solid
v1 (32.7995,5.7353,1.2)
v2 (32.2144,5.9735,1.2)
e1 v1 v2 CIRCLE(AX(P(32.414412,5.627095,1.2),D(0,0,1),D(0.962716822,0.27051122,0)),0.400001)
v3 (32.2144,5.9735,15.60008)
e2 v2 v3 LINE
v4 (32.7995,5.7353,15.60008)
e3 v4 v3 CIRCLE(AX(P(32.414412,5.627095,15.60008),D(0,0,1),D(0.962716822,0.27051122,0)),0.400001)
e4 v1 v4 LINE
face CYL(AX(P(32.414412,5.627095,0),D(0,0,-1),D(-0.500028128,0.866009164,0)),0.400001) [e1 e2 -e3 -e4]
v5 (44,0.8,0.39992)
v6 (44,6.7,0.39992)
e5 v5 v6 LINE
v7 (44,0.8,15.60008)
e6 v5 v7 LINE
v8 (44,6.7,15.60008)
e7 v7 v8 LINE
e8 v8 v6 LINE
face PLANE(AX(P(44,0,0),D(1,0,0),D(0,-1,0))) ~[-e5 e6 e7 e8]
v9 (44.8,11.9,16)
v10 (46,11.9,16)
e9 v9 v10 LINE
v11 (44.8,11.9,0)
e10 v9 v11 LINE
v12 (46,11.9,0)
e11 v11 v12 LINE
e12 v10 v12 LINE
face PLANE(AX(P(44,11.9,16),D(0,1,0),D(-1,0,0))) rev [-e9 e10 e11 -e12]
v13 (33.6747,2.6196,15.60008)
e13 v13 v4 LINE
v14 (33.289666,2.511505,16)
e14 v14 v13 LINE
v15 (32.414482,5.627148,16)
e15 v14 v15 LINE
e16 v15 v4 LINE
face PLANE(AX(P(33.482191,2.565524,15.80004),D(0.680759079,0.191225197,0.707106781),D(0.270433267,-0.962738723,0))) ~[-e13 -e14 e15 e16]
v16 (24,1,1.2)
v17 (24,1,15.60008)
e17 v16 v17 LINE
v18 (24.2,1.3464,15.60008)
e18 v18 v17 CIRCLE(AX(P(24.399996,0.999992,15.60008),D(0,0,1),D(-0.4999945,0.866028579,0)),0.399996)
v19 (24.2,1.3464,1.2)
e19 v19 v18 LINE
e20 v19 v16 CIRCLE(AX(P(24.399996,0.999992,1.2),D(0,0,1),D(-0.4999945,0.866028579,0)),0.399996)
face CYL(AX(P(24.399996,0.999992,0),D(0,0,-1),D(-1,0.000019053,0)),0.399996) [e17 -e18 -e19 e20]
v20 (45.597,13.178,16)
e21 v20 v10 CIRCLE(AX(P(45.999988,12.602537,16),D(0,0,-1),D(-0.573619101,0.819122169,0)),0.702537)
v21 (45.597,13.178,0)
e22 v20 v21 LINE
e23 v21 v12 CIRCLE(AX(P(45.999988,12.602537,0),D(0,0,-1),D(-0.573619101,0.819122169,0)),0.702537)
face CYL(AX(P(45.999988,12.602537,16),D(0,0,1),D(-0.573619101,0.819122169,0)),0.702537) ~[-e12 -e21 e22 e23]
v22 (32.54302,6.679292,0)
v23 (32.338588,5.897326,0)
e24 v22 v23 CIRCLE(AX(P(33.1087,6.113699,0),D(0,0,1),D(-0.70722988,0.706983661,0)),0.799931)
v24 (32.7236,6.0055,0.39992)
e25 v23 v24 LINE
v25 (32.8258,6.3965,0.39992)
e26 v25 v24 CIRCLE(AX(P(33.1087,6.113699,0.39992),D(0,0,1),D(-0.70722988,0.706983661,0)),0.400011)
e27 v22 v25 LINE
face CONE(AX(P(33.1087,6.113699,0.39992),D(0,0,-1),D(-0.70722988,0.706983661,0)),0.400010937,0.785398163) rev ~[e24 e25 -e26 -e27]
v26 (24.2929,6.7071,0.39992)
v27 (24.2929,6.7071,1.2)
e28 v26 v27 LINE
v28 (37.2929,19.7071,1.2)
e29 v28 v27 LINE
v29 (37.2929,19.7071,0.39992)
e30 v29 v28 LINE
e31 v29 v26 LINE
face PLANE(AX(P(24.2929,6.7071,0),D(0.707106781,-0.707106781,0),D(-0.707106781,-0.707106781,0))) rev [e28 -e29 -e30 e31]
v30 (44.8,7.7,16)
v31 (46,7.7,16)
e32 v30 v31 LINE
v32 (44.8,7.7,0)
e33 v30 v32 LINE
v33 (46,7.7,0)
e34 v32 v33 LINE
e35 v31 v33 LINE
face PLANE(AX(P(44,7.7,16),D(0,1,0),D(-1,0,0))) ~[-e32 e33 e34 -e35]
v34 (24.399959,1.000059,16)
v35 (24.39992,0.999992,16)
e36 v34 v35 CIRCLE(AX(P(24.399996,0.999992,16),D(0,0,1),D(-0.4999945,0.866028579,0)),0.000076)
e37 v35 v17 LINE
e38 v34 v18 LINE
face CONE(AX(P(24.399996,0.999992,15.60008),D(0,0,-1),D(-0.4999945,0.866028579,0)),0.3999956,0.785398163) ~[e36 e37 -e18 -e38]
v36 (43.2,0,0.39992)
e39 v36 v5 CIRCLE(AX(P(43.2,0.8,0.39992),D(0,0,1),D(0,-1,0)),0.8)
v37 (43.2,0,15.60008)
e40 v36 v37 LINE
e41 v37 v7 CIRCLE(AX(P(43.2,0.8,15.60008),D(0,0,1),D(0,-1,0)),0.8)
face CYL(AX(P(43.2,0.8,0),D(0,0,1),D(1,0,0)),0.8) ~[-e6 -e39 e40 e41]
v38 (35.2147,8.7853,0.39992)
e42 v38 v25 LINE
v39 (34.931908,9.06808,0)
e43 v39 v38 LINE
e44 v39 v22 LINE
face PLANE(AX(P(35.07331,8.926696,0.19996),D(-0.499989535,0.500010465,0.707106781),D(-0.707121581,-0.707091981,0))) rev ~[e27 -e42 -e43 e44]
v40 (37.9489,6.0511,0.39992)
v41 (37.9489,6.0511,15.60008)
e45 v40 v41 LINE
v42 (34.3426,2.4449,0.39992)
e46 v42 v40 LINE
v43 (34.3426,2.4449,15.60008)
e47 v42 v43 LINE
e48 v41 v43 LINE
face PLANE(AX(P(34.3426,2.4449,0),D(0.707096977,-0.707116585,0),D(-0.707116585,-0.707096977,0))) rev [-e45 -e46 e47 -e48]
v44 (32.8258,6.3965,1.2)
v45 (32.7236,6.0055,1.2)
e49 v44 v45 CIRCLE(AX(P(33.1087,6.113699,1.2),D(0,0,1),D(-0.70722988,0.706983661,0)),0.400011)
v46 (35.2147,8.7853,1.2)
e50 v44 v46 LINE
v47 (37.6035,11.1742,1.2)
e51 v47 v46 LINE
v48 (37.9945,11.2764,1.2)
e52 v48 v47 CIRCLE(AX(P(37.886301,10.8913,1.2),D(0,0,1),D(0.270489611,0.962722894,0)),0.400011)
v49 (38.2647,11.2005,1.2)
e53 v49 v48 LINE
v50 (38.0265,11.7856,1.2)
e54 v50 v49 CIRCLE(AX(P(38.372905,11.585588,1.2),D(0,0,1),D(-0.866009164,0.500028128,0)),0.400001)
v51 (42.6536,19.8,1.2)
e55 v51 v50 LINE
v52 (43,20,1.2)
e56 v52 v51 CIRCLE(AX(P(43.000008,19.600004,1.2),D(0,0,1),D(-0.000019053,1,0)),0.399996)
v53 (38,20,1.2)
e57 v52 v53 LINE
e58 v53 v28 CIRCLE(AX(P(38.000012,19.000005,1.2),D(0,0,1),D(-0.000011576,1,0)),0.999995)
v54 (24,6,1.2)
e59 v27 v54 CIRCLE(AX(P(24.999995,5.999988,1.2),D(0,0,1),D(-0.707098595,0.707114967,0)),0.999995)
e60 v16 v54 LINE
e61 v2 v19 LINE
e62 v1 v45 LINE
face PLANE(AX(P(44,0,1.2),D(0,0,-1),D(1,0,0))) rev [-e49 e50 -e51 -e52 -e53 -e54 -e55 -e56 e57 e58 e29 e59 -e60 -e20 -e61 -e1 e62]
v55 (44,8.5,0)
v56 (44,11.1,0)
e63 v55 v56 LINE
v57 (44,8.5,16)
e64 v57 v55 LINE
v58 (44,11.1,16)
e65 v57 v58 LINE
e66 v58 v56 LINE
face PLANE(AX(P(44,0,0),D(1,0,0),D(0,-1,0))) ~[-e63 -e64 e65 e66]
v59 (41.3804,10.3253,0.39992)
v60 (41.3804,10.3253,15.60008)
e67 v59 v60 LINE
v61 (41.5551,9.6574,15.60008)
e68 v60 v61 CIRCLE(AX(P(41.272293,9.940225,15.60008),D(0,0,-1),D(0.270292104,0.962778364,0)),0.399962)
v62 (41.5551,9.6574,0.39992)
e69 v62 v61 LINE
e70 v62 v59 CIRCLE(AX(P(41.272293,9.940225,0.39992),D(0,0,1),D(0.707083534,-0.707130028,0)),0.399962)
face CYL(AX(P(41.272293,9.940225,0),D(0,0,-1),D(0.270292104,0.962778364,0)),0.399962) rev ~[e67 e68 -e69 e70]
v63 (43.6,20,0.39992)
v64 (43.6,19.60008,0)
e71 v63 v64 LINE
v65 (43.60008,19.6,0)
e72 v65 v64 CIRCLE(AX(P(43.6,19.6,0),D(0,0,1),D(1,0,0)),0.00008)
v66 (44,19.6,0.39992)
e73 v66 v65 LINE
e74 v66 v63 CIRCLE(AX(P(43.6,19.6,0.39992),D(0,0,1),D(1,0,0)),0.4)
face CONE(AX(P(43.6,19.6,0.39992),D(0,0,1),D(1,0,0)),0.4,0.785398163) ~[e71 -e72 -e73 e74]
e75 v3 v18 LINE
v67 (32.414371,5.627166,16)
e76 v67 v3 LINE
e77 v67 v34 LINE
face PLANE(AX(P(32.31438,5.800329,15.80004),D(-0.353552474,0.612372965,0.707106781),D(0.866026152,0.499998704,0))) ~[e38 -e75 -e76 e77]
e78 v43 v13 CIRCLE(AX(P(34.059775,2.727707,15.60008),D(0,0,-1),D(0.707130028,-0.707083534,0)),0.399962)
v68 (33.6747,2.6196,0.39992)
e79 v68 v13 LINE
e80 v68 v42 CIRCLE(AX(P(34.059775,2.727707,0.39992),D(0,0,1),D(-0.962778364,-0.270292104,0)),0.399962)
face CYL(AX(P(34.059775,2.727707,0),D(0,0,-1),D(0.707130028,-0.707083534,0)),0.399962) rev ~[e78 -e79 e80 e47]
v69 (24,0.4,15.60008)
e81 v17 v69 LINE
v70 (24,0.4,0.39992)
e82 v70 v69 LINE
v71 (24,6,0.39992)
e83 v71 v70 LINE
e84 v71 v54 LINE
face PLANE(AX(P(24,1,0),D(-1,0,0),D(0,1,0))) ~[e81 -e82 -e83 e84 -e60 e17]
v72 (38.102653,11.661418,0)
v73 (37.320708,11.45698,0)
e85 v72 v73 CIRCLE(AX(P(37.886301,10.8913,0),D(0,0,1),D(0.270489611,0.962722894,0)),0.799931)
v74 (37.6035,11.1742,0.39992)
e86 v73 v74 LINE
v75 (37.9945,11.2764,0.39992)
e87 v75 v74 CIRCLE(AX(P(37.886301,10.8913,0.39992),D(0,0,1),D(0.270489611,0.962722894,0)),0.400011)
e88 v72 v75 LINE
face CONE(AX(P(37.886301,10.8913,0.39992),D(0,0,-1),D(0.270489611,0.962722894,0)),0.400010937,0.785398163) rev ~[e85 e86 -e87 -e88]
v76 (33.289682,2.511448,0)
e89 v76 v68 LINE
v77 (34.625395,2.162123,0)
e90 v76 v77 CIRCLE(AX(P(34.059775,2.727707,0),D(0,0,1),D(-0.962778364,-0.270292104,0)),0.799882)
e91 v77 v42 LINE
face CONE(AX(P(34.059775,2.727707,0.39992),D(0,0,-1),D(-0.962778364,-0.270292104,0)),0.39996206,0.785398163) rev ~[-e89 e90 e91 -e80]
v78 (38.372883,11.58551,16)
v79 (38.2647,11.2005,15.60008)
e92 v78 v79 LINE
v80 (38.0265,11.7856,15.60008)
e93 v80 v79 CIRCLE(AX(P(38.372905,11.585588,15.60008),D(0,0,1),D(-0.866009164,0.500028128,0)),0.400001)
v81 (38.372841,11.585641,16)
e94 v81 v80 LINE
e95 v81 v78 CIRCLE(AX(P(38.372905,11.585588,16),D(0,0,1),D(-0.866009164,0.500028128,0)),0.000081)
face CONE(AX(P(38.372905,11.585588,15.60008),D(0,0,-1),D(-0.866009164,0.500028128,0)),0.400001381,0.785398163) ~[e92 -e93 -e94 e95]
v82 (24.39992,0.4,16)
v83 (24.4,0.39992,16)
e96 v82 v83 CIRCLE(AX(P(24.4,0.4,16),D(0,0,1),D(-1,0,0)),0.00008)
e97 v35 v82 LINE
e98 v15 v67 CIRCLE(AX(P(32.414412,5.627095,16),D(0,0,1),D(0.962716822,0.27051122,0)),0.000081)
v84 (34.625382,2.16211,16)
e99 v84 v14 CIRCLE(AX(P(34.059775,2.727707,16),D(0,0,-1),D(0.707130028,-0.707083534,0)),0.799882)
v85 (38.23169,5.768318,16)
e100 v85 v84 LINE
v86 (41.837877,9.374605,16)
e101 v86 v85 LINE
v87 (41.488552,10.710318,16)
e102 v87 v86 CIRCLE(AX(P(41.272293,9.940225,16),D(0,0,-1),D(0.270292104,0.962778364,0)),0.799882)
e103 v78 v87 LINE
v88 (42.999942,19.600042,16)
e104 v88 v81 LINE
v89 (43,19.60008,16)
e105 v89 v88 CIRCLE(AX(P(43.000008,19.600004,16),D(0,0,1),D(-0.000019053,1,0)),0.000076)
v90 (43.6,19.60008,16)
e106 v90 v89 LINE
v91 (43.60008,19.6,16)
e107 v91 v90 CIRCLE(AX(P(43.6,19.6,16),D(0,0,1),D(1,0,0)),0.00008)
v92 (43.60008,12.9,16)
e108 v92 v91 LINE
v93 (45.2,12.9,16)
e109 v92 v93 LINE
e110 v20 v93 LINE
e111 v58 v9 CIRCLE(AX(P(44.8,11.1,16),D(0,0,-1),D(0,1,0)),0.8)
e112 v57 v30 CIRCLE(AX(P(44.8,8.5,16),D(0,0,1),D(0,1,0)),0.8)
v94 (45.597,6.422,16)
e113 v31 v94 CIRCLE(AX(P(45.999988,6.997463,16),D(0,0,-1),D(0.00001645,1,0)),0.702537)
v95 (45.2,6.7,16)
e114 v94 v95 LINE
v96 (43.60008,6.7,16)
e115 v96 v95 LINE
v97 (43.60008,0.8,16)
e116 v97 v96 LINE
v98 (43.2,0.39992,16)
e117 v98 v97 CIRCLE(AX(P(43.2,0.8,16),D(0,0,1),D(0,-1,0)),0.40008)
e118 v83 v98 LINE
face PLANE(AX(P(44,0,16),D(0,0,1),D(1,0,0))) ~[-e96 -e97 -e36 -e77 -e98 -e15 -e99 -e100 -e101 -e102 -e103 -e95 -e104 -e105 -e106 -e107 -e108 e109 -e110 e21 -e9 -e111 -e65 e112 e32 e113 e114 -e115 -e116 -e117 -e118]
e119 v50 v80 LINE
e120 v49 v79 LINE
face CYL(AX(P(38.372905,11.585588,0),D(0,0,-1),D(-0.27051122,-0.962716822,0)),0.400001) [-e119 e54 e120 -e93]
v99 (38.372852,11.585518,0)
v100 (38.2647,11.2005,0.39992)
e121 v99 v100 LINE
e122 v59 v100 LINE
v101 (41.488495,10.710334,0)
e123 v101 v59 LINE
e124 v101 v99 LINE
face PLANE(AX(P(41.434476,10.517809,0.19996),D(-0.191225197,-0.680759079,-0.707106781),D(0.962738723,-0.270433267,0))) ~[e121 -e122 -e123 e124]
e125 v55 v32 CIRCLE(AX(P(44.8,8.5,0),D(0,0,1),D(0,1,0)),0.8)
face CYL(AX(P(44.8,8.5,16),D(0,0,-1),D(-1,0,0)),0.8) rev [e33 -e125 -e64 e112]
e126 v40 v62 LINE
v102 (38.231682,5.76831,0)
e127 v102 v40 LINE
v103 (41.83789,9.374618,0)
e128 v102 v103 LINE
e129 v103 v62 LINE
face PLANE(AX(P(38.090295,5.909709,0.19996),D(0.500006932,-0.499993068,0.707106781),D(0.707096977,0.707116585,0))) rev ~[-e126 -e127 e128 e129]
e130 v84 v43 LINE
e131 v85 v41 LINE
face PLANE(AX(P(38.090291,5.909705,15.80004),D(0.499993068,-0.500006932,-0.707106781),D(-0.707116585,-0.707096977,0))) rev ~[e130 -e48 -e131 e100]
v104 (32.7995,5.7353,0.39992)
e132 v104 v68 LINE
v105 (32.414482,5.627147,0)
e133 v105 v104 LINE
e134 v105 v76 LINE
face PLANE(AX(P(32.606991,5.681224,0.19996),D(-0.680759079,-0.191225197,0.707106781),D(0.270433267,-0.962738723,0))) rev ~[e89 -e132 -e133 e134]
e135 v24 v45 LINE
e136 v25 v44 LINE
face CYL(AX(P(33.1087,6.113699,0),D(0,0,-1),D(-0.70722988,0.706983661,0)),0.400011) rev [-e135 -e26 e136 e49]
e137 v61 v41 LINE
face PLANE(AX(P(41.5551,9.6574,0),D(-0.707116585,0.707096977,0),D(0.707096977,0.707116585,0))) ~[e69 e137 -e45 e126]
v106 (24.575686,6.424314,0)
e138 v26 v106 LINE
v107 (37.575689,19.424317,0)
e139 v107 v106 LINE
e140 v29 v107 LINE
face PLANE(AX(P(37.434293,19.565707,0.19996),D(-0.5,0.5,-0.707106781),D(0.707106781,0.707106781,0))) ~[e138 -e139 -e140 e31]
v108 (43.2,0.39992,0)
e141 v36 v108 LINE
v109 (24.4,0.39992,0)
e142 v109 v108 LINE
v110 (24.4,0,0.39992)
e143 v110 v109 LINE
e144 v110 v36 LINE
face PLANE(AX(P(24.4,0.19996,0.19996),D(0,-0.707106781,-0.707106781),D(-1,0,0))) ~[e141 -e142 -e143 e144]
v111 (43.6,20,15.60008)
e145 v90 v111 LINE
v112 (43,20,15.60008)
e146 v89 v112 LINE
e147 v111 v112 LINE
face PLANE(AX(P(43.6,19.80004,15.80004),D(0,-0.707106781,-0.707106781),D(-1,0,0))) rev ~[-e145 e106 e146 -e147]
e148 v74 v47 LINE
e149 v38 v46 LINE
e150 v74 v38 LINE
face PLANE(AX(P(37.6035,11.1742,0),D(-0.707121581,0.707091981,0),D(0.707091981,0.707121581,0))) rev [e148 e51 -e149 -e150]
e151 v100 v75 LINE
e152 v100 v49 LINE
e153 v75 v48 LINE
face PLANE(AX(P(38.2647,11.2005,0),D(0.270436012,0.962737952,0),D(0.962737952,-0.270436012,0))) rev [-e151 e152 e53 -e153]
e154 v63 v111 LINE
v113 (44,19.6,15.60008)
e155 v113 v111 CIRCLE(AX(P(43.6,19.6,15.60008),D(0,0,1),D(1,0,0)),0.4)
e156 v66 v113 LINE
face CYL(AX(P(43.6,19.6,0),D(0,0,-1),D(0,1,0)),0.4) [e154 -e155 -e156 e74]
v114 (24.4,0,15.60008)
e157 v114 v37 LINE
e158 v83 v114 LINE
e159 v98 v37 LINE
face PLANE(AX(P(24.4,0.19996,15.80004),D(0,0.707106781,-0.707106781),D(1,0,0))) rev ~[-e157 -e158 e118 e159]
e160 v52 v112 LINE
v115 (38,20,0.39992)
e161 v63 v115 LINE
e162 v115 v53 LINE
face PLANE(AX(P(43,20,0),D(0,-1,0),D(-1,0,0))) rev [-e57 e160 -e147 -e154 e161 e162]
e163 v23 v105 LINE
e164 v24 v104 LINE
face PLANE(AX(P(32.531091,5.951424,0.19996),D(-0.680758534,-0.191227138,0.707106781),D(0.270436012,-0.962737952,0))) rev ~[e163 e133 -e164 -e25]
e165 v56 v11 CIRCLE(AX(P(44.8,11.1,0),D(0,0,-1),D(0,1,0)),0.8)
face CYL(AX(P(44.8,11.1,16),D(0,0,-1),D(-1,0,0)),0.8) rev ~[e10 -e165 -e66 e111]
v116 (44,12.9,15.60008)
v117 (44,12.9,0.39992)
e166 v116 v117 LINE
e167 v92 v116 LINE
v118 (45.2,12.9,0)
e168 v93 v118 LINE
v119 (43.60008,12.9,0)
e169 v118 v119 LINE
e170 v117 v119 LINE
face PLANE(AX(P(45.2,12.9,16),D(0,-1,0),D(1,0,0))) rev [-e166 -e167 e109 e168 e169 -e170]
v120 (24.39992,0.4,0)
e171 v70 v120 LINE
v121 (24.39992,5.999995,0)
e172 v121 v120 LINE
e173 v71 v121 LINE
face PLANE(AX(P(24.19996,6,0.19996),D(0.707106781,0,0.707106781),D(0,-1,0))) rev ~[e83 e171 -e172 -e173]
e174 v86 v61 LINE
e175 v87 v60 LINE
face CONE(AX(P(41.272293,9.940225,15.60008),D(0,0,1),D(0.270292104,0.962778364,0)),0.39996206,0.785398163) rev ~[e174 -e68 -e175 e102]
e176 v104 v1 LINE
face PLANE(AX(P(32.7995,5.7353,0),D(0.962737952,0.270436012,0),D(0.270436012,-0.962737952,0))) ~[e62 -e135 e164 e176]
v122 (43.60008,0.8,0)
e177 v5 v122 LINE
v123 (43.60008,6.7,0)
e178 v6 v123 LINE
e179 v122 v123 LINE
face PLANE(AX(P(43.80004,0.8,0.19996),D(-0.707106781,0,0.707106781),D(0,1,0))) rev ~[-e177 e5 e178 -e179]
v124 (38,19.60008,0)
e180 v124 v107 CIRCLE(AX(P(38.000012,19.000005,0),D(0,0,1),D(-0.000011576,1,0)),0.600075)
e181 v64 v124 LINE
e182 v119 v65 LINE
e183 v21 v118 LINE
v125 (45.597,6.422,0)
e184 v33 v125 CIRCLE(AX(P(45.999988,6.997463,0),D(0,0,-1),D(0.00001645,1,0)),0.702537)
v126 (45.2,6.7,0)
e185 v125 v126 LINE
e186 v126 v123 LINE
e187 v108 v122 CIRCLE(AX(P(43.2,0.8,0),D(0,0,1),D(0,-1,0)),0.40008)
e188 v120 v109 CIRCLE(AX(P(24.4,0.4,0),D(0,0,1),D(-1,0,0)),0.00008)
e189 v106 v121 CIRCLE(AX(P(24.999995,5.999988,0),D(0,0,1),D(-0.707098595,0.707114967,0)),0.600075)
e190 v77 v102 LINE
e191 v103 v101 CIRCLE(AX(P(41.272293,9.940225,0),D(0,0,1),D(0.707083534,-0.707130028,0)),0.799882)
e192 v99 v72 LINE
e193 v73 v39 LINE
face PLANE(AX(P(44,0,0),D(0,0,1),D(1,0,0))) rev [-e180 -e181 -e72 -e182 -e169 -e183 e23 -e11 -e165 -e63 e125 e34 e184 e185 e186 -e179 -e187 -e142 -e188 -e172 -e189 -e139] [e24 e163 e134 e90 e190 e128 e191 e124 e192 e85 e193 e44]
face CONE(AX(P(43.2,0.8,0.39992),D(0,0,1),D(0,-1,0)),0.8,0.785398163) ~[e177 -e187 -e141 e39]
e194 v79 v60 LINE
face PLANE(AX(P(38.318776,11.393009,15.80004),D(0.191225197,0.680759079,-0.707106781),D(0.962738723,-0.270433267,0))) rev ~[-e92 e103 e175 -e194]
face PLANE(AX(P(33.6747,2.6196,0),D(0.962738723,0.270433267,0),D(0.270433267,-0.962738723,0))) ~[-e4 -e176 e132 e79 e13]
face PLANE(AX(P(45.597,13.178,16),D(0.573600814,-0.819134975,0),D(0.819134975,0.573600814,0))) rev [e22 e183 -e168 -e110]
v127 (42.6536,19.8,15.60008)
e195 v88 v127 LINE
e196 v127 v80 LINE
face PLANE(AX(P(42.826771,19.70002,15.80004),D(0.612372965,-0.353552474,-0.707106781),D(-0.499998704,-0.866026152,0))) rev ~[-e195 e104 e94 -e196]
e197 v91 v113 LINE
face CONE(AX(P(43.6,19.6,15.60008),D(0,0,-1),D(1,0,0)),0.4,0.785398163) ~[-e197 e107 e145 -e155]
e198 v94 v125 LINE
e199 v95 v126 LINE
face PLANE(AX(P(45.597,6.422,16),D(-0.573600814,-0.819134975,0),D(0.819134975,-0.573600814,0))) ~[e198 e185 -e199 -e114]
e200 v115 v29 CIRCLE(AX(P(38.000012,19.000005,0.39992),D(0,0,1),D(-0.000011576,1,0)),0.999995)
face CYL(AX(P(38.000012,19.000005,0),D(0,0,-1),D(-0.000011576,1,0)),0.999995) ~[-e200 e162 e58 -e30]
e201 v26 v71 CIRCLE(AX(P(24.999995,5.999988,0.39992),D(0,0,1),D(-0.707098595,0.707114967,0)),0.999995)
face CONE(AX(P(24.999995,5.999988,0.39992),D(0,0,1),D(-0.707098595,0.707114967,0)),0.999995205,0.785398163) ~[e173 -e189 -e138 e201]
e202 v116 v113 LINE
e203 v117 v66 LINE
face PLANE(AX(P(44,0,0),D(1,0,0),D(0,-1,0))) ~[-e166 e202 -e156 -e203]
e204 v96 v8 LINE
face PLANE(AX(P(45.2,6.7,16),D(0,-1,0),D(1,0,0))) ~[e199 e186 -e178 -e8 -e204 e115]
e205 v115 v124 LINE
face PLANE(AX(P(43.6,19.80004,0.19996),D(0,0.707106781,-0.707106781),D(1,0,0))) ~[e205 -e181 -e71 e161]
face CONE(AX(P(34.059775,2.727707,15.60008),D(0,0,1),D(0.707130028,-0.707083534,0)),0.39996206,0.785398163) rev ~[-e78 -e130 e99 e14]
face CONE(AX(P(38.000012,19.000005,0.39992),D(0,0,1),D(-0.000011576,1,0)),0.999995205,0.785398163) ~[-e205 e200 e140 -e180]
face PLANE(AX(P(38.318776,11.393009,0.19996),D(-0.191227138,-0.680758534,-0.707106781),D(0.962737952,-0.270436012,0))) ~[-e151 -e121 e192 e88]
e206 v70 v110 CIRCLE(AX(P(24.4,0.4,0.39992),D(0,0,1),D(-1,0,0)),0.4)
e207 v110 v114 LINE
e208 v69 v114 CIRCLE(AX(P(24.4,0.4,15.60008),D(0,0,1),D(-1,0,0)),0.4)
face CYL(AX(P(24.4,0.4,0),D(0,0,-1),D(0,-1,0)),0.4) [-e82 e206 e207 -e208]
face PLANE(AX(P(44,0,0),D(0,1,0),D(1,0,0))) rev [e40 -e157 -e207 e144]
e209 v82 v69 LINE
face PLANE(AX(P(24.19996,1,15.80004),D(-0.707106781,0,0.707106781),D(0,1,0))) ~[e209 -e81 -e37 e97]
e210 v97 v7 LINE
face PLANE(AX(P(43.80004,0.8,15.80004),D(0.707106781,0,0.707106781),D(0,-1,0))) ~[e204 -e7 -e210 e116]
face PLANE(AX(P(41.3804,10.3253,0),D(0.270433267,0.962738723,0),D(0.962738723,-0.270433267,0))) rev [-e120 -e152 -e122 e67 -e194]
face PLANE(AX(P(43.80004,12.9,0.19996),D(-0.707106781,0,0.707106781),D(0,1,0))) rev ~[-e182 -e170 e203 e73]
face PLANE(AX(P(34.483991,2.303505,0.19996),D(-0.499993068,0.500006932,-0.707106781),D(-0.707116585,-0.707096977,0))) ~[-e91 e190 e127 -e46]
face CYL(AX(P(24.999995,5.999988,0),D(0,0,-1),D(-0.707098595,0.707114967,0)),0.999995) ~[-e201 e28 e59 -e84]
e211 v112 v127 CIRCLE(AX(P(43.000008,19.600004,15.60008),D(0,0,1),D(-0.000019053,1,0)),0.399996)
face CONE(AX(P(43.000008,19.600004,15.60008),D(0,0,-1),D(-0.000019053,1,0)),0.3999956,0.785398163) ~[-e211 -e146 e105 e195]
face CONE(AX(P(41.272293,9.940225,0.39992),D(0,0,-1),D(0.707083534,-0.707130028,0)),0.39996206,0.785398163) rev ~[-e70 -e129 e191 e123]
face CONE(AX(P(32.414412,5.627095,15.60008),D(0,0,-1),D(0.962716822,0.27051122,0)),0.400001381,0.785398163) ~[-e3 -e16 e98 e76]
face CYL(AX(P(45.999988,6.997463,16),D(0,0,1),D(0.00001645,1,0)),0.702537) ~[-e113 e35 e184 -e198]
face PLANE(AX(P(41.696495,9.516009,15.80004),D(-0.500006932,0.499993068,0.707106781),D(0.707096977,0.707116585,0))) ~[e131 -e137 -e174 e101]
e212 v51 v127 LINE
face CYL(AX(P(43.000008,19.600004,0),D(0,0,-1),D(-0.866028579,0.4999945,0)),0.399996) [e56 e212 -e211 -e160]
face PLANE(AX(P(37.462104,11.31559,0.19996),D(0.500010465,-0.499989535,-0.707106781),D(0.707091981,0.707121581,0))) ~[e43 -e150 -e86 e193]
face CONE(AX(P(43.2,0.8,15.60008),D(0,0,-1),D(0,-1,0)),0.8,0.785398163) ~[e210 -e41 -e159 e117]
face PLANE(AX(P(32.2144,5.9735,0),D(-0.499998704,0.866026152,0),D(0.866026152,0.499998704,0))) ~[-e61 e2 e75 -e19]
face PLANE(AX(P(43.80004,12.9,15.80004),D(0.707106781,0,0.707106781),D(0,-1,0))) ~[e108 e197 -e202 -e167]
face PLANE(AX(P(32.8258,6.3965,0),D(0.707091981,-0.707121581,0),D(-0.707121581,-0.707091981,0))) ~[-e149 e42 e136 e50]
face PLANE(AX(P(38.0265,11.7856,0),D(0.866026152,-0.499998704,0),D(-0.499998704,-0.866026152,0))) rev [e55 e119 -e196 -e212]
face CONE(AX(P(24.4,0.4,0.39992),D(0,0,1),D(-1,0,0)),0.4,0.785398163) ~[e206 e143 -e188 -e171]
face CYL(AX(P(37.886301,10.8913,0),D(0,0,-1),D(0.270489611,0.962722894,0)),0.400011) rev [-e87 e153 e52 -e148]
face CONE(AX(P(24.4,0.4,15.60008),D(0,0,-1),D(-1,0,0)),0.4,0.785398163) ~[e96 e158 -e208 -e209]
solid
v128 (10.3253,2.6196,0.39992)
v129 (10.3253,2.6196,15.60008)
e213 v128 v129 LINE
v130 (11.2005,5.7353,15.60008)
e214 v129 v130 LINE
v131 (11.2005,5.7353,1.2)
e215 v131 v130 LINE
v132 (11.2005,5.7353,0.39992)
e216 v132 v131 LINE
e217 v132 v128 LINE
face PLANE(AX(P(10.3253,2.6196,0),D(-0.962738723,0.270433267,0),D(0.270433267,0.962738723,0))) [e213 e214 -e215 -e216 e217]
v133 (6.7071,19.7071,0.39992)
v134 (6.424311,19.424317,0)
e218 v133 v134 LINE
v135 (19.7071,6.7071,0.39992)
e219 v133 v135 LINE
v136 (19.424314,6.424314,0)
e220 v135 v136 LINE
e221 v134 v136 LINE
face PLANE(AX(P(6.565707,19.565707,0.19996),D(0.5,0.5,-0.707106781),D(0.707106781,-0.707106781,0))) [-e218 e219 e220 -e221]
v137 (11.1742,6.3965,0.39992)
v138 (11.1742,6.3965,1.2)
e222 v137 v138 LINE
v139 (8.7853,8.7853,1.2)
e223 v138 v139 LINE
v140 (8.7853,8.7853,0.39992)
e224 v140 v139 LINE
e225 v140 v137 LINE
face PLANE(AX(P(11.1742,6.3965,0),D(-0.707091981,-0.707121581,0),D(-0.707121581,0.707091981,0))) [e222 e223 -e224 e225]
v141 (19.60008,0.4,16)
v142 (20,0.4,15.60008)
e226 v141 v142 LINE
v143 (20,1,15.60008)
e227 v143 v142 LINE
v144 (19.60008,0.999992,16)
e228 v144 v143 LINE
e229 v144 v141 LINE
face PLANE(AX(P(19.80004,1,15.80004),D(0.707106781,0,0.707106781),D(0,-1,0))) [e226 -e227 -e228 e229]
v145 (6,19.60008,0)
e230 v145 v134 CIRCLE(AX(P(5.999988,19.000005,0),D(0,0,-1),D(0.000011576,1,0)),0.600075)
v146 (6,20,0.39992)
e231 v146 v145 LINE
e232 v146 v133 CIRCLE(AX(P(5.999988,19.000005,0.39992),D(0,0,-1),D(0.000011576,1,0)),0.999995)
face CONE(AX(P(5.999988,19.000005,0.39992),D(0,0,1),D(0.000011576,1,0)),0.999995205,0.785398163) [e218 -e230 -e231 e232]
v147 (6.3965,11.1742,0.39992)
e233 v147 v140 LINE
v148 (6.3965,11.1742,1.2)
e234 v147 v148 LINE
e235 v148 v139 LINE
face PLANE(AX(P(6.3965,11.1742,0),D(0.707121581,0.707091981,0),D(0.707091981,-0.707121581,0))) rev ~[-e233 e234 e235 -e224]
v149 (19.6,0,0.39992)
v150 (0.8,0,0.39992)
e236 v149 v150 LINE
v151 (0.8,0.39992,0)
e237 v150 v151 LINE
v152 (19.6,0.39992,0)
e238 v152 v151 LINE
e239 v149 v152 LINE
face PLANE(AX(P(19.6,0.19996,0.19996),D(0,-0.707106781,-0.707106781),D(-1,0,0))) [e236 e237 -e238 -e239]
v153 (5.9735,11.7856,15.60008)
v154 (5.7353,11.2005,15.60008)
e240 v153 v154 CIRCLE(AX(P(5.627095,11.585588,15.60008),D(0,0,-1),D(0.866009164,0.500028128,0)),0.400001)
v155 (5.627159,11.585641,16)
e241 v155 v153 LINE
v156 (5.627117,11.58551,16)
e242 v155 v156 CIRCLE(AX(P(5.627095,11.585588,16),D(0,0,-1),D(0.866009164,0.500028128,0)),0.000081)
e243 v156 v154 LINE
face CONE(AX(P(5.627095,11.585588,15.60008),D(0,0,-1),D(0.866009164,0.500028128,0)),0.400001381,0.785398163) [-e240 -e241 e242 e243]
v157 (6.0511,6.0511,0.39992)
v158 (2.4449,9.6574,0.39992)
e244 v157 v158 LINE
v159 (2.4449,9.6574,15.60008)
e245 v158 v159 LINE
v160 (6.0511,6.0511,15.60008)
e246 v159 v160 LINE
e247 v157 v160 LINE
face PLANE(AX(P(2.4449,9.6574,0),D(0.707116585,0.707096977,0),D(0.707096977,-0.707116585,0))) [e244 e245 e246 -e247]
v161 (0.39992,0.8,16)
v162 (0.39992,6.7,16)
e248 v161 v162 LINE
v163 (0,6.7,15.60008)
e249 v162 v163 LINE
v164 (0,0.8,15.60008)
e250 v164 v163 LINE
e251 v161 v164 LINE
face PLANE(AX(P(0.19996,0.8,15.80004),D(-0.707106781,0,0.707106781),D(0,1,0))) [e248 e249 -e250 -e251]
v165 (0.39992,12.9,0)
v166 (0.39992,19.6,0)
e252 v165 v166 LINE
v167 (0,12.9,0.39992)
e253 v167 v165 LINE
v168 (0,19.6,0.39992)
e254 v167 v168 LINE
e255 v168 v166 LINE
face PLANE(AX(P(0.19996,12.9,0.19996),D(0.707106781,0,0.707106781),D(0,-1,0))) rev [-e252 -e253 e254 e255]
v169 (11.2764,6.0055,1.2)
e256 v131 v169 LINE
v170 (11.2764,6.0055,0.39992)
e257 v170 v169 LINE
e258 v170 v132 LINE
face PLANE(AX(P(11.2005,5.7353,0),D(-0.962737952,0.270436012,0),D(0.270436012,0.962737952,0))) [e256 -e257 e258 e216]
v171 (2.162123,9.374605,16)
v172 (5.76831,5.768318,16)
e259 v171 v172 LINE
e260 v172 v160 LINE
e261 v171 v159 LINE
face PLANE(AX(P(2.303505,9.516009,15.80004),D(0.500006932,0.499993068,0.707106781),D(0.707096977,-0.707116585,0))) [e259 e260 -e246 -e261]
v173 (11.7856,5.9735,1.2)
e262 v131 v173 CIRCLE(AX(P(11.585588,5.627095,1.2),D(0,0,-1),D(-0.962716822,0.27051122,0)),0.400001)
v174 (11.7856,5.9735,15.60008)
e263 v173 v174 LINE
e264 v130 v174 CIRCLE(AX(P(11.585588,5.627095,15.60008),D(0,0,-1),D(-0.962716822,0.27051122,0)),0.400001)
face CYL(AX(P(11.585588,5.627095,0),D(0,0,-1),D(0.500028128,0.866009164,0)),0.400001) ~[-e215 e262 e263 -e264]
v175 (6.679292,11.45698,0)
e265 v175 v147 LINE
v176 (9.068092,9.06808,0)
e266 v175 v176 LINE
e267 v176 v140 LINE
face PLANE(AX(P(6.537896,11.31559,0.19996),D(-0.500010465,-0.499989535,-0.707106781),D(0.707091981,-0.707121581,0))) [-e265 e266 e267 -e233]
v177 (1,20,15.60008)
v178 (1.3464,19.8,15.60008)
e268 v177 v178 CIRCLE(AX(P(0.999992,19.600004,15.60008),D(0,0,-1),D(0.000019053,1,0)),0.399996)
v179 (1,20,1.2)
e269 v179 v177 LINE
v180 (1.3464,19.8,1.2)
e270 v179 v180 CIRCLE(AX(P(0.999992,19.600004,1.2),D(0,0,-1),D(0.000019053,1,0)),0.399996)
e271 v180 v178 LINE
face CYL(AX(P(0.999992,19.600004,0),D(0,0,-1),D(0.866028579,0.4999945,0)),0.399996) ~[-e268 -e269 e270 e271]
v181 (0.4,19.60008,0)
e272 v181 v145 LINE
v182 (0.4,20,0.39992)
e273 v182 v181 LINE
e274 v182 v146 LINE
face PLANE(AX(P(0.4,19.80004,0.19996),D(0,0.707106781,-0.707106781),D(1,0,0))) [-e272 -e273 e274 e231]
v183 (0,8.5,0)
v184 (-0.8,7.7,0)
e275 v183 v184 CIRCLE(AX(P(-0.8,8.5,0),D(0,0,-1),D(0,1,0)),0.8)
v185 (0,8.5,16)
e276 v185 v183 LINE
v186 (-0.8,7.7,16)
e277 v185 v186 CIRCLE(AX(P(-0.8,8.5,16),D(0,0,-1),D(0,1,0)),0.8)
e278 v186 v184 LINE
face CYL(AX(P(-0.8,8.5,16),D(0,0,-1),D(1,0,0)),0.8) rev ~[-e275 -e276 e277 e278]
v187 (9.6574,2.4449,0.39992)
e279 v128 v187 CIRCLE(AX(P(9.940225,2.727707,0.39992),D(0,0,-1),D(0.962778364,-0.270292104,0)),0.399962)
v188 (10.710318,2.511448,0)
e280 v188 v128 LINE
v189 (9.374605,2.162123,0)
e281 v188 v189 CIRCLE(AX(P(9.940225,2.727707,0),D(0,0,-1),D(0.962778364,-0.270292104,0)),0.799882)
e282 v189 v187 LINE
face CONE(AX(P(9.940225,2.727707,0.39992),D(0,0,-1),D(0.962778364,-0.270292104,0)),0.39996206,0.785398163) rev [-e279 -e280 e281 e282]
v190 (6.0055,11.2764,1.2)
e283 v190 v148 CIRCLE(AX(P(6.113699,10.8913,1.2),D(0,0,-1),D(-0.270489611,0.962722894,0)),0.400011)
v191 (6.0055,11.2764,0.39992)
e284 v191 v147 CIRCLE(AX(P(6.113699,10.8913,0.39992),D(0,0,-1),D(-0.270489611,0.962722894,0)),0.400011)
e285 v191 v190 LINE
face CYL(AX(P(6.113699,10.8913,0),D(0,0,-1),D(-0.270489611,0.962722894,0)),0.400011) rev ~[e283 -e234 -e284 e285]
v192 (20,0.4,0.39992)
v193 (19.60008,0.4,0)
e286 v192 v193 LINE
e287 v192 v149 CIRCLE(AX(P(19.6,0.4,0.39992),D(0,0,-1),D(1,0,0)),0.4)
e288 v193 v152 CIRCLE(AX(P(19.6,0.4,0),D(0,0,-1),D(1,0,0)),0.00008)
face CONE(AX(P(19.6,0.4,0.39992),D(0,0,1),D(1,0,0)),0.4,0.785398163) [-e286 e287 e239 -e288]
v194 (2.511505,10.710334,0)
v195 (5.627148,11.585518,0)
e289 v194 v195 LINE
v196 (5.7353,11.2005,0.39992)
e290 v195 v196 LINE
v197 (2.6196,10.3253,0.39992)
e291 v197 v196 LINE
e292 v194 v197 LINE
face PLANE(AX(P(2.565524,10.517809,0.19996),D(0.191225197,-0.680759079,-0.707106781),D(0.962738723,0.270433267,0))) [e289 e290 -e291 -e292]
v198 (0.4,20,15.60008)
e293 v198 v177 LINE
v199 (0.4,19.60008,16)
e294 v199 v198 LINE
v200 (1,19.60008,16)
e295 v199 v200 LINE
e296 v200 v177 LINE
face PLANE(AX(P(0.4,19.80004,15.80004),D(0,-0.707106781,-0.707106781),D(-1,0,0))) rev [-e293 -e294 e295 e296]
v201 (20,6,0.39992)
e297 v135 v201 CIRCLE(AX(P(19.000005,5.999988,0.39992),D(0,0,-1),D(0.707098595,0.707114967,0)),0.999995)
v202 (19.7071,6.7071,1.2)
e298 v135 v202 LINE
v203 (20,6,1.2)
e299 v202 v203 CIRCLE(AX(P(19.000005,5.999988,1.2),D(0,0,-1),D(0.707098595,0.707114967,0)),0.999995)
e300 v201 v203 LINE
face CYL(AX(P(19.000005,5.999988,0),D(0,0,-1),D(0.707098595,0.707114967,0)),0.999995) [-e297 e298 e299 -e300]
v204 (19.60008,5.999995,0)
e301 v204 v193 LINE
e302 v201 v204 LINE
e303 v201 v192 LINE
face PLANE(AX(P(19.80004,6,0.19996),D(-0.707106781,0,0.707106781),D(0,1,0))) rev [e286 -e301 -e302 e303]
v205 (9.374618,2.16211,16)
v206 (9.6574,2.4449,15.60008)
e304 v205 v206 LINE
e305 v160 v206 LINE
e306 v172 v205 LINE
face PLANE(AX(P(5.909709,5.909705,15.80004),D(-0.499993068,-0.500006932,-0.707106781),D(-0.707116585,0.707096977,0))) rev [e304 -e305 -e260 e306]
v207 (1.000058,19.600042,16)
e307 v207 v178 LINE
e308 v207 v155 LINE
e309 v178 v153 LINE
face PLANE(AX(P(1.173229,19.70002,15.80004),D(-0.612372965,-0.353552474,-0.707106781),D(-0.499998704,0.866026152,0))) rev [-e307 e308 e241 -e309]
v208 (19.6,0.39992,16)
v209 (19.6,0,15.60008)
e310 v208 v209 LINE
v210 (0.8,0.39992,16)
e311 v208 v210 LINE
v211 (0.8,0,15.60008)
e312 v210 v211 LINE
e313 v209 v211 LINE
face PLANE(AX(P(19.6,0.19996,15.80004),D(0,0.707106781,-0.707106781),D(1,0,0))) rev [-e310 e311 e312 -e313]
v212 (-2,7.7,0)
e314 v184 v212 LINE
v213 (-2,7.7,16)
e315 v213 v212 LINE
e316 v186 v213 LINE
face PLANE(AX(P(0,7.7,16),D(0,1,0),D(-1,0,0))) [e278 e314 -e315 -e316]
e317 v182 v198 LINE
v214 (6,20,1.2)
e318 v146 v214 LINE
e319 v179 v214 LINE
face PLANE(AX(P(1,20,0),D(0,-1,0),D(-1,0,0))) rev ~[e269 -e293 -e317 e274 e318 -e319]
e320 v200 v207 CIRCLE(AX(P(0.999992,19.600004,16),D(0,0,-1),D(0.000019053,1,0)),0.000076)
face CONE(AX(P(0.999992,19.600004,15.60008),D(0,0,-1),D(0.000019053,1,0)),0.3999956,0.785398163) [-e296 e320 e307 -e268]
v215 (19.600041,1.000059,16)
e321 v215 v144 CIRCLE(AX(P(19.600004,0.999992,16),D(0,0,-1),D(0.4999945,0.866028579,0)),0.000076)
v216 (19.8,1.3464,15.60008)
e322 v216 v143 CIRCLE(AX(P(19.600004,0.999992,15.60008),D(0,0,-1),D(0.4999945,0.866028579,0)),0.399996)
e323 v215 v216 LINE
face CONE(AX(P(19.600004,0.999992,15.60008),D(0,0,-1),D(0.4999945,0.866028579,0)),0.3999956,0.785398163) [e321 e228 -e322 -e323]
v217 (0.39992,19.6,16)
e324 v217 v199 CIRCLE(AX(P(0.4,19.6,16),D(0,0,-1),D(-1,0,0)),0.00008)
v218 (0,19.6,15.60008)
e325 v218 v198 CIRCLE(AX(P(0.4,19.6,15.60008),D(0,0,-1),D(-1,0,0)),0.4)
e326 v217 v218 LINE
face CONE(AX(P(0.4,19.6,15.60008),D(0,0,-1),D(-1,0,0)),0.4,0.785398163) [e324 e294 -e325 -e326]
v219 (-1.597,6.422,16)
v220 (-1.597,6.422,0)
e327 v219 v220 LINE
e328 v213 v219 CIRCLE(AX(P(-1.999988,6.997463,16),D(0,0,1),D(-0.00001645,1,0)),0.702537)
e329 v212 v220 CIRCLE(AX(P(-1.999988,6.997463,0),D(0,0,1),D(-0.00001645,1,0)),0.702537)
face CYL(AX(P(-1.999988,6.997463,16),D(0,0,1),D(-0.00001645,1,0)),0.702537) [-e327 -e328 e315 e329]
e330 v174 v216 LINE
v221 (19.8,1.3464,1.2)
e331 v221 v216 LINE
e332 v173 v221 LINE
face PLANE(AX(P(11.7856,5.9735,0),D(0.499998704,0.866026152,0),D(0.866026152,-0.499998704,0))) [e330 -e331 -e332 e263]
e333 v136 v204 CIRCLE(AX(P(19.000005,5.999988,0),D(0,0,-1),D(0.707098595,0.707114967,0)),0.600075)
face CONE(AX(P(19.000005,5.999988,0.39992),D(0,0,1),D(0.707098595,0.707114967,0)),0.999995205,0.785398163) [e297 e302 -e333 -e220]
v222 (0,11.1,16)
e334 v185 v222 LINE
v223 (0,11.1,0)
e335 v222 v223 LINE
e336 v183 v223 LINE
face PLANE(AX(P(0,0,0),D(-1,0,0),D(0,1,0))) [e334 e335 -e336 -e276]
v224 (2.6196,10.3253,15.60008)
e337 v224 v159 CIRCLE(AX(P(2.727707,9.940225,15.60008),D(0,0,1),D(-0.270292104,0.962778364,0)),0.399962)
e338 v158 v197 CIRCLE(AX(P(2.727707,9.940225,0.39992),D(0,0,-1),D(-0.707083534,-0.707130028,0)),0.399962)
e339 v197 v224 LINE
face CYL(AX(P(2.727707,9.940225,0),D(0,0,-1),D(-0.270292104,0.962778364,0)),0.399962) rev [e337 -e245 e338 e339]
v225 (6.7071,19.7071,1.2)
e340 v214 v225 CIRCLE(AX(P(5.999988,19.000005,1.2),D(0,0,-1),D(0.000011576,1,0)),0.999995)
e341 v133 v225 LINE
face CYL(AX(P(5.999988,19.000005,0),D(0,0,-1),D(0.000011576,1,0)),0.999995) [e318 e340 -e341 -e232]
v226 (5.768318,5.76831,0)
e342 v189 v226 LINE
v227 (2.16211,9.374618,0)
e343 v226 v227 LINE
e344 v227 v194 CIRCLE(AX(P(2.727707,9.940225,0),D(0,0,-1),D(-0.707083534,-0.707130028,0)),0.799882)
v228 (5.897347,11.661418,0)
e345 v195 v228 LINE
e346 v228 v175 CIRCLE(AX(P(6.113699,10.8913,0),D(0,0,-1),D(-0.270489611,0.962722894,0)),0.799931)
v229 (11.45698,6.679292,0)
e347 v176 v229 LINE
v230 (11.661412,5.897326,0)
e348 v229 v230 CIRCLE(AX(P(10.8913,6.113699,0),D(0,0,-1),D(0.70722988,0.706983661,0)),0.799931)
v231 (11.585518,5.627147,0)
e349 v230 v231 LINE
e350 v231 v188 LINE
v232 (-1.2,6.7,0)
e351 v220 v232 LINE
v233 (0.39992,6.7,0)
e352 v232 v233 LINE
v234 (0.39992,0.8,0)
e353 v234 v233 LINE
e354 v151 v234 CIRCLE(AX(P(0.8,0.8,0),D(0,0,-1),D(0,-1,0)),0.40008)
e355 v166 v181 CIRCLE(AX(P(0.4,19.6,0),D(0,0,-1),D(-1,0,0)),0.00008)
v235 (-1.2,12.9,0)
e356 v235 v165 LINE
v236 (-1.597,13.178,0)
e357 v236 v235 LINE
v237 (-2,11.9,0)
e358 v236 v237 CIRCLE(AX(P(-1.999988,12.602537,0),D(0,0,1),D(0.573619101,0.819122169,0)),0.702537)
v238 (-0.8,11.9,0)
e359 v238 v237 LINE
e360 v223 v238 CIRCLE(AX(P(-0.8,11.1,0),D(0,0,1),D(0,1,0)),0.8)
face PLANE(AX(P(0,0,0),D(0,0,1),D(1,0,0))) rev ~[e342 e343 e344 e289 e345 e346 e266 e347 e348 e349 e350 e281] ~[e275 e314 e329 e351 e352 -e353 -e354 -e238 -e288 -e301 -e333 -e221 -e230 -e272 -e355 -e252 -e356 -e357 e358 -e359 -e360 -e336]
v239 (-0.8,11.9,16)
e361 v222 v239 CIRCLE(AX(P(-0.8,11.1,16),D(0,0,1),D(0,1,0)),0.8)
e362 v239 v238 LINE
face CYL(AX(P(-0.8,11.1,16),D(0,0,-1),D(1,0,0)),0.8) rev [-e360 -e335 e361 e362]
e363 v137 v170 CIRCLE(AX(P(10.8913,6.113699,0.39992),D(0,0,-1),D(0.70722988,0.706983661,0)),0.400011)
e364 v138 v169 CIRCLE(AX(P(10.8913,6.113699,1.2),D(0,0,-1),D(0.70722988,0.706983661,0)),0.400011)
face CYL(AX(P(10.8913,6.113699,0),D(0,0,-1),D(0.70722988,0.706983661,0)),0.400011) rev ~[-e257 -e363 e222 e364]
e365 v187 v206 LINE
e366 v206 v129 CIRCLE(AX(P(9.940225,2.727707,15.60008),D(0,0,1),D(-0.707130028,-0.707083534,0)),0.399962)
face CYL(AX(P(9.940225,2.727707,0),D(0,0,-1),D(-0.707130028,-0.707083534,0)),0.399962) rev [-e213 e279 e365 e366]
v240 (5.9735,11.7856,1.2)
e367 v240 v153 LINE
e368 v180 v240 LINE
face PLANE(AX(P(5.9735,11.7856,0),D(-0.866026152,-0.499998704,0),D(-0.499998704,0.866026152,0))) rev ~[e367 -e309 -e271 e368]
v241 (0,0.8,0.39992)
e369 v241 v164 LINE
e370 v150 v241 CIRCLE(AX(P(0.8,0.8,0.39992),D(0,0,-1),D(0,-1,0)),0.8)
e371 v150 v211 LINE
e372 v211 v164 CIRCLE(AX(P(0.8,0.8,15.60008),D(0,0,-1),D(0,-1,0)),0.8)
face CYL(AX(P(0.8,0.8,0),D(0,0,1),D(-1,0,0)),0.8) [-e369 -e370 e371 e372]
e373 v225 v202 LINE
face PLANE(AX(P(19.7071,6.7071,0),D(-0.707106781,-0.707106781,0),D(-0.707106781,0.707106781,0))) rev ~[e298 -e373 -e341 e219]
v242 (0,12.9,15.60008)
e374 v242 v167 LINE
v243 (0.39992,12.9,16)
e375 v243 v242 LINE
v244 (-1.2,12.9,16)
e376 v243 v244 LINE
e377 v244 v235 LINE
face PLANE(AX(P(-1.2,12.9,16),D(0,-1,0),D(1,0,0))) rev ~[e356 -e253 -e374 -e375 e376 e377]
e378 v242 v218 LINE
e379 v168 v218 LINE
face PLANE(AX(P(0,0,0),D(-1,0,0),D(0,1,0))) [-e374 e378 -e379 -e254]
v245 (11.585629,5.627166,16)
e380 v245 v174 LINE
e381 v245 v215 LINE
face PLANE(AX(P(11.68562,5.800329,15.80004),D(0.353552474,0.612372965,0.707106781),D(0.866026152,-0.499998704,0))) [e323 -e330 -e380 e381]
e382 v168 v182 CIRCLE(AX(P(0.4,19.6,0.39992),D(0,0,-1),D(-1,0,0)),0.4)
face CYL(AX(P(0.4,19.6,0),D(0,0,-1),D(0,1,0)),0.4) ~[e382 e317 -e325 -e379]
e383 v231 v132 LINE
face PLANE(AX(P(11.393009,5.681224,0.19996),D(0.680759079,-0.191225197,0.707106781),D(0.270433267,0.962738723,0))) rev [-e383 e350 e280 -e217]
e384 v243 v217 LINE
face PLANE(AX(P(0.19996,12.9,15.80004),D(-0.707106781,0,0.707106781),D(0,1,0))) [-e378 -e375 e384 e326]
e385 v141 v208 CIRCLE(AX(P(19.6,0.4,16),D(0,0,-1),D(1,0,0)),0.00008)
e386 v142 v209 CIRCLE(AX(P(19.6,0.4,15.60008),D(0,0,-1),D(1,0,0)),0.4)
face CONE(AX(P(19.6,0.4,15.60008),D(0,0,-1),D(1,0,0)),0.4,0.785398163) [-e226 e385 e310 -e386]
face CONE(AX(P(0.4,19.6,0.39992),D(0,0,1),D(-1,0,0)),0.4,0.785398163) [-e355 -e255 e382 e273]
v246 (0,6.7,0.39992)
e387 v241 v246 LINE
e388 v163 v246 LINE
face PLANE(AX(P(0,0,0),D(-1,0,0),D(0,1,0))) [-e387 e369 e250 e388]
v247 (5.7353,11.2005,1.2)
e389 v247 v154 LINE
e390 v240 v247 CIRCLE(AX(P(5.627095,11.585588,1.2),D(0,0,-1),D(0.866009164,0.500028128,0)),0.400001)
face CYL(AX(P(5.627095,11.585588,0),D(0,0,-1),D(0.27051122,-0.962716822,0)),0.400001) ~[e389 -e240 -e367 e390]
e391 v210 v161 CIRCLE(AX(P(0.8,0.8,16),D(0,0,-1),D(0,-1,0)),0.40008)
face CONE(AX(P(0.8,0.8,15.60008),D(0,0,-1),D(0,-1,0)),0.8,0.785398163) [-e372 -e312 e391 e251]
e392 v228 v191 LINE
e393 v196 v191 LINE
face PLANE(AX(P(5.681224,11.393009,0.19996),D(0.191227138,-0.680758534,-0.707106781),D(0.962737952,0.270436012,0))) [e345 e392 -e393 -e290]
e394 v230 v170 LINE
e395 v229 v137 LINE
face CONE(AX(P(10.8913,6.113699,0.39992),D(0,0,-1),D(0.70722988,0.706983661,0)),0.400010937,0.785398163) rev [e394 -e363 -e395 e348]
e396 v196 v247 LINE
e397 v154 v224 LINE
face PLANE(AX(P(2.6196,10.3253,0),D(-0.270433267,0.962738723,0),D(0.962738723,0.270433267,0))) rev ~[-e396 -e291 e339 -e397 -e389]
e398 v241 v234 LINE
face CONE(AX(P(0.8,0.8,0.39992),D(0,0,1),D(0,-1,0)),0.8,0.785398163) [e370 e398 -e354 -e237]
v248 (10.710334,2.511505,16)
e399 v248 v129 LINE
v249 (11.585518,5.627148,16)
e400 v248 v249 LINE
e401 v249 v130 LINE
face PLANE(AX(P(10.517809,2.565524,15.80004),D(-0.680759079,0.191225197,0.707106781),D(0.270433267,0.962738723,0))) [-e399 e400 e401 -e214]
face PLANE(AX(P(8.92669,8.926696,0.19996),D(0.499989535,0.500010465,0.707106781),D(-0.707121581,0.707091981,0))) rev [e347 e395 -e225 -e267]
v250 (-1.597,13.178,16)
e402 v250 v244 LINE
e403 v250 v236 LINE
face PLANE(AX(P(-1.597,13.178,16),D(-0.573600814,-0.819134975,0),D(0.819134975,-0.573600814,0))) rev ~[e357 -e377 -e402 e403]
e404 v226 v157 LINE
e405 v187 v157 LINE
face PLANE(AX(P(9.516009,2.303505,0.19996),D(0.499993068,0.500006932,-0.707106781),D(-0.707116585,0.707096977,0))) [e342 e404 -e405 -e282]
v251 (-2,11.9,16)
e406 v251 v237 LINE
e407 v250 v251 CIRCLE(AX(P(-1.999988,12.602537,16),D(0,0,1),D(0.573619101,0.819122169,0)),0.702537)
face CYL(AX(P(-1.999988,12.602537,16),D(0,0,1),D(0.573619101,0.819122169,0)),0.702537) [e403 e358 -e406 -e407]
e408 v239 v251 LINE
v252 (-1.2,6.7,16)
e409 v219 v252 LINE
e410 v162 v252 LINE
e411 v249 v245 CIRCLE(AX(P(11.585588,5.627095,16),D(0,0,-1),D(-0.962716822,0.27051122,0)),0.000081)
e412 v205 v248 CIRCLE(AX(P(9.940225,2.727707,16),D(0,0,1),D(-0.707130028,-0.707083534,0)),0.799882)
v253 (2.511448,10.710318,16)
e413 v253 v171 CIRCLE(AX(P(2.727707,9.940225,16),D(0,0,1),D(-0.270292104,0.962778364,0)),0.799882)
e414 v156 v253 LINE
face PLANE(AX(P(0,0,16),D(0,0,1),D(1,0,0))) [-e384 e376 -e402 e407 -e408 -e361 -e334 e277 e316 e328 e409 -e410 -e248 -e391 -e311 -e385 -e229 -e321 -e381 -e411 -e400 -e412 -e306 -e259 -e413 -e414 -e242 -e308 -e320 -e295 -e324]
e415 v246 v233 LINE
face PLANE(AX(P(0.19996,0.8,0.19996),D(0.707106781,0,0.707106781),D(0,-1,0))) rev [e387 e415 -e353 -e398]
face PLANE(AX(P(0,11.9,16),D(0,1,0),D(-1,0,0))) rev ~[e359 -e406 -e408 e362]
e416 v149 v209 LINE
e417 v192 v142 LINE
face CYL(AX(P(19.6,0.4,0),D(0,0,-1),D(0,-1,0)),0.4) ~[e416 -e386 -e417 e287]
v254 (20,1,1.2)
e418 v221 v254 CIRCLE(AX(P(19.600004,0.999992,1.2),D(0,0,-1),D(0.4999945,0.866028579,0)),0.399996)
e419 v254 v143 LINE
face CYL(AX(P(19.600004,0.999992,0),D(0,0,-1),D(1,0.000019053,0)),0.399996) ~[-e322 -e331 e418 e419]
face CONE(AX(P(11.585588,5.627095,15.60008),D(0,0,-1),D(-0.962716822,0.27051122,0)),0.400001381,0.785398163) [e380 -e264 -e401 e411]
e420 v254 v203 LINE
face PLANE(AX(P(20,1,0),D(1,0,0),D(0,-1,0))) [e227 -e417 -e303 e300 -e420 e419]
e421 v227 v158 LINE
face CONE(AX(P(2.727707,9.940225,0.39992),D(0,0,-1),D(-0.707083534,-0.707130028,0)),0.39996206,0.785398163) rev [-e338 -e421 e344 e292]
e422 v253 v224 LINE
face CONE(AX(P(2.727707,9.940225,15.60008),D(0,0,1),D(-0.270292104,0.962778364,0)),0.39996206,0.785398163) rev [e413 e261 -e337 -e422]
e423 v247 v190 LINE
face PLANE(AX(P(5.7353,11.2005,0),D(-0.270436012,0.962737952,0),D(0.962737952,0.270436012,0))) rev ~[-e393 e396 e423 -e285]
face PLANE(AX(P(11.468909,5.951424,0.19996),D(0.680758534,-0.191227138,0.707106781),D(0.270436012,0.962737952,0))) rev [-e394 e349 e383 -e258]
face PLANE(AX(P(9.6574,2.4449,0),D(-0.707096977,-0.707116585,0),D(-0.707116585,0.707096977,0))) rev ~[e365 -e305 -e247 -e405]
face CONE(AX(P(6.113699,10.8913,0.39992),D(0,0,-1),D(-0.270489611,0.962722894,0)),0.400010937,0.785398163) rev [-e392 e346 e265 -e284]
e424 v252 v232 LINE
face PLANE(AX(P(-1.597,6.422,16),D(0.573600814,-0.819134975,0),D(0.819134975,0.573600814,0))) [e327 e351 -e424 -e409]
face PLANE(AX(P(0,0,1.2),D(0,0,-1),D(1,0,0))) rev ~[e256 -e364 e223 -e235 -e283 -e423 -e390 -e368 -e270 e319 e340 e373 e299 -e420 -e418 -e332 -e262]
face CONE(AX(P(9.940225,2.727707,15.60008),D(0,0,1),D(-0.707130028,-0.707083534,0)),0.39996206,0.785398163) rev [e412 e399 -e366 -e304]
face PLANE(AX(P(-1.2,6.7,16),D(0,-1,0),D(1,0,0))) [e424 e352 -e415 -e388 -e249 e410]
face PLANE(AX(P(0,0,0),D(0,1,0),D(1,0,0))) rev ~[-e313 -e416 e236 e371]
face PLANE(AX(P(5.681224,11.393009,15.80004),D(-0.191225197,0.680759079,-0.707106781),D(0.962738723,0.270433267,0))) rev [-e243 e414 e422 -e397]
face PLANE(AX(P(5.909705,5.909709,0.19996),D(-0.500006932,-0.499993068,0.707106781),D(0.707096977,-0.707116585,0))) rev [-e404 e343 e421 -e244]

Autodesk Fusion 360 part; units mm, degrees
sketch "Sketch1" plane through (0, 0, 0) normal (0, 0, 1) x (1, 0, 0)
  line L0 (0, 0) -> (0, 19.6)
  line L1 (2.6196, 10.3253) -> (5.7353, 11.2005)
  line L2 (5.9735, 11.7856) -> (1.3464, 19.8)
  line L3 (1, 20) -> (0.4, 20)
  line L4 (0, 0) -> (6.0511, 6.0511) construction
  line L5 (2.4449, 9.6574) -> (6.0511, 6.0511)
  arc A0 (2.6196, 10.3253) -> (2.4449, 9.6574) centre (2.7277, 9.9402) ccw
  arc A1 (5.7353, 11.2005) -> (5.9735, 11.7856) centre (5.6271, 11.5856) ccw
  arc A2 (1.3464, 19.8) -> (1, 20) centre (1, 19.6) ccw
  arc A3 (0.4, 20) -> (0, 19.6) centre (0.4, 19.6) ccw
  line L6 (0, 0) -> (19.6, 0)
  line L7 (9.6574, 2.4449) -> (6.0511, 6.0511)
  arc A4 (9.6574, 2.4449) -> (10.3253, 2.6196) centre (9.9402, 2.7277) ccw
  line L8 (10.3253, 2.6196) -> (11.2005, 5.7353)
  arc A5 (11.7856, 5.9735) -> (11.2005, 5.7353) centre (11.5856, 5.6271) ccw
  line L9 (11.7856, 5.9735) -> (19.8, 1.3464)
  arc A6 (20, 1) -> (19.8, 1.3464) centre (19.6, 1) ccw
  line L10 (20, 1) -> (20, 0.4)
  arc A7 (19.6, 0) -> (20, 0.4) centre (19.6, 0.4) ccw
  point P0 (0, 20)
  point P1 (6.2309, 11.3397)
  point P2 (1.2309, 20)
  dimension "d1" = 20
  dimension "d4" = 135
  dimension "d5" = 10
  dimension "d7" = 0.4
  dimension "d8" = 0.4
  dimension "d9" = 0.4
  dimension "d10" = 0.6
  dimension "d11" = 5.1
  dimension "d12" = 4
  dimension "d13" = 30
extrude "Extrude1" add sketch "Sketch1" along normal blind 16 makes body 1
sketch "Sketch2" plane through (0, 0, 0) normal (0, 0, -1) x (1, 0, 0)
  line L0 (19.6, 0) -> (0, 0)
  line L1 (0, 0) -> (0, -19.6)
  arc A0 (0, -19.6) -> (0.4, -20) centre (0.4, -19.6) ccw
  line L2 (0.4, -20) -> (1, -20)
  arc A1 (1, -20) -> (1.3464, -19.8) centre (1, -19.6) ccw
  line L3 (1.3464, -19.8) -> (5.9735, -11.7856)
  arc A2 (5.9735, -11.7856) -> (5.7353, -11.2005) centre (5.6271, -11.5856) ccw
  line L4 (5.7353, -11.2005) -> (2.6196, -10.3253)
  arc A3 (2.4449, -9.6574) -> (2.6196, -10.3253) centre (2.7277, -9.9402) ccw
  line L5 (2.4449, -9.6574) -> (9.6574, -2.4449)
  arc A4 (10.3253, -2.6196) -> (9.6574, -2.4449) centre (9.9402, -2.7277) ccw
  line L6 (10.3253, -2.6196) -> (11.2005, -5.7353)
  arc A5 (11.2005, -5.7353) -> (11.7856, -5.9735) centre (11.5856, -5.6271) ccw
  line L7 (11.7856, -5.9735) -> (19.8, -1.3464)
  arc A6 (19.8, -1.3464) -> (20, -1) centre (19.6, -1) ccw
  line L8 (20, -1) -> (20, -0.4)
  arc A7 (20, -0.4) -> (19.6, 0) centre (19.6, -0.4) ccw
  line L9 (1, -20) -> (6, -20)
  line L10 (6.7071, -19.7071) -> (13.2071, -13.2071)
  line L11 (13.2071, -13.2071) -> (0, 0) construction
  arc A8 (6, -20) -> (6.7071, -19.7071) centre (6, -19) ccw
  line L12 (5.7353, -11.2005) -> (6.0055, -11.2764)
  line L13 (6.3965, -11.1742) -> (8.7853, -8.7853)
  line L14 (5.9735, -11.7856) -> (6.2309, -11.3397) construction
  arc A9 (6.0055, -11.2764) -> (6.3965, -11.1742) centre (6.1137, -10.8913) ccw
  line L15 (11.1742, -6.3965) -> (8.7853, -8.7853)
  line L16 (11.2005, -5.7353) -> (11.2764, -6.0055)
  arc A10 (11.1742, -6.3965) -> (11.2764, -6.0055) centre (10.8913, -6.1137) ccw
  line L17 (19.7071, -6.7071) -> (13.2071, -13.2071)
  arc A11 (19.7071, -6.7071) -> (20, -6) centre (19, -6) ccw
  line L18 (20, -1) -> (20, -6)
  dimension "d16" = 45
  dimension "d17" = 1
  dimension "d18" = 6
  dimension "d19" = 0.4
extrude "Extrude2" add sketch "Sketch2" against normal blind 1.2 contours A1 L3 A2 A5 L7 A6 L9 L10 A8 L12 L13 A9 L15 L16 A10 L17 A11 L18 bodies 1
sketch "Sketch3" plane through (0, 0, 16) normal (0, 0, 1) x (-1, 0, 0)
  line L0 (0, 0) -> (-19.6, 0)
  arc A0 (-19.6, 0) -> (-20, -0.4) centre (-19.6, -0.4) ccw
  line L1 (-20, -0.4) -> (-20, -1)
  arc A1 (-20, -1) -> (-19.8, -1.3464) centre (-19.6, -1) ccw
  line L2 (-19.8, -1.3464) -> (-11.7856, -5.9735)
  arc A2 (-11.7856, -5.9735) -> (-11.2005, -5.7353) centre (-11.5856, -5.6271) ccw
  line L3 (-11.2005, -5.7353) -> (-10.3253, -2.6196)
  arc A3 (-9.6574, -2.4449) -> (-10.3253, -2.6196) centre (-9.9402, -2.7277) ccw
  line L4 (-9.6574, -2.4449) -> (-2.4449, -9.6574)
  arc A4 (-2.6196, -10.3253) -> (-2.4449, -9.6574) centre (-2.7277, -9.9402) ccw
  line L5 (-2.6196, -10.3253) -> (-5.7353, -11.2005)
  arc A5 (-5.7353, -11.2005) -> (-5.9735, -11.7856) centre (-5.6271, -11.5856) ccw
  line L6 (-5.9735, -11.7856) -> (-1.3464, -19.8)
  arc A6 (-1.3464, -19.8) -> (-1, -20) centre (-1, -19.6) ccw
  line L7 (-1, -20) -> (-0.4, -20)
  arc A7 (-0.4, -20) -> (0, -19.6) centre (-0.4, -19.6) ccw
  line L8 (0, -19.6) -> (0, 0)
  line L9 (0, -9.8) -> (-2.3531, -9.8) construction
  line L10 (0, -7.7) -> (2, -7.7)
  arc A8 (2, -7.7) -> (1.597, -6.422) centre (2, -6.9975) ccw
  line L11 (1.597, -6.422) -> (1.2, -6.7)
  line L12 (1.2, -6.7) -> (0, -6.7)
  line L13 (1.2, -12.9) -> (0, -12.9)
  line L14 (1.597, -13.178) -> (1.2, -12.9)
  arc A9 (1.597, -13.178) -> (2, -11.9) centre (2, -12.6025) ccw
  line L15 (0, -11.9) -> (2, -11.9)
  dimension "d22" = 1
  dimension "d23" = 145
  dimension "d24" = 1.2
  dimension "d25" = 2
  dimension "d26" = 3.1
extrude "Extrude3" add sketch "Sketch3" against normal up to surface (16 mm away) contours L8 L10 A8 L11 L12 | L8 L13 L14 A9 L15 bodies 1
fillet "Fillet1" radius 0.8 3 edges at (0, 11.9, 8) (0, 7.7, 8) (0, 0, 8) on bodies 1
chamfer "Chamfer1" distance 0.4 angle 45 38 edges at (0, 16.25, 16) (0, 3.75, 16) (0.2343, 0.2343, 16) (10.2, 0, 16) (19.8828, 0.1172, 16) (20, 0.7, 16) (19.9464, 1.2, 16) (15.7928, 3.66, 16) (11.4348, 5.9976, 16) (10.7629, 4.1774, 16) (10.0414, 2.3408, 16) (6.0511, 6.0511, 16) (2.3408, 10.0414, 16) (4.1774, 10.7629, 16) (5.9976, 11.4348, 16) (3.66, 15.7928, 16) (1.2, 19.9464, 16) (0.7, 20, 16) (0.1172, 19.8828, 16) (0, 3.75, 0) (0, 16.25, 0) (0.1172, 19.8828, 0) (3.2, 20, 0) (6.3827, 19.9239, 0) (13.2071, 13.2071, 0) (19.9239, 6.3827, 0) (20, 3.2, 0) (19.8828, 0.1172, 0) (10.2, 0, 0) (0.2343, 0.2343, 0) (8.7853, 8.7853, 0) (6.2149, 11.2783, 0) (4.3125, 10.8009, 0) (2.3408, 10.0414, 0) (6.0511, 6.0511, 0) (10.0414, 2.3408, 0) (10.8009, 4.3125, 0) (11.2783, 6.2149, 0) on bodies 1
ref_plane "WorkPlane1" through (22, 0, 0) normal (1, 0, 0) x (0, 1, 0)
mirror "Mirror1" about plane through (22, 0, 0) normal (1, 0, 0) of bodies 1 makes body 2
equation "d8 = d7"
equation "d9 = d7"
equation "d11 = ( 11 / 2 ) * 1 mm - 0.4 mm"
equation "d26 = ( 6.2 / 2 ) * 1 mm"
